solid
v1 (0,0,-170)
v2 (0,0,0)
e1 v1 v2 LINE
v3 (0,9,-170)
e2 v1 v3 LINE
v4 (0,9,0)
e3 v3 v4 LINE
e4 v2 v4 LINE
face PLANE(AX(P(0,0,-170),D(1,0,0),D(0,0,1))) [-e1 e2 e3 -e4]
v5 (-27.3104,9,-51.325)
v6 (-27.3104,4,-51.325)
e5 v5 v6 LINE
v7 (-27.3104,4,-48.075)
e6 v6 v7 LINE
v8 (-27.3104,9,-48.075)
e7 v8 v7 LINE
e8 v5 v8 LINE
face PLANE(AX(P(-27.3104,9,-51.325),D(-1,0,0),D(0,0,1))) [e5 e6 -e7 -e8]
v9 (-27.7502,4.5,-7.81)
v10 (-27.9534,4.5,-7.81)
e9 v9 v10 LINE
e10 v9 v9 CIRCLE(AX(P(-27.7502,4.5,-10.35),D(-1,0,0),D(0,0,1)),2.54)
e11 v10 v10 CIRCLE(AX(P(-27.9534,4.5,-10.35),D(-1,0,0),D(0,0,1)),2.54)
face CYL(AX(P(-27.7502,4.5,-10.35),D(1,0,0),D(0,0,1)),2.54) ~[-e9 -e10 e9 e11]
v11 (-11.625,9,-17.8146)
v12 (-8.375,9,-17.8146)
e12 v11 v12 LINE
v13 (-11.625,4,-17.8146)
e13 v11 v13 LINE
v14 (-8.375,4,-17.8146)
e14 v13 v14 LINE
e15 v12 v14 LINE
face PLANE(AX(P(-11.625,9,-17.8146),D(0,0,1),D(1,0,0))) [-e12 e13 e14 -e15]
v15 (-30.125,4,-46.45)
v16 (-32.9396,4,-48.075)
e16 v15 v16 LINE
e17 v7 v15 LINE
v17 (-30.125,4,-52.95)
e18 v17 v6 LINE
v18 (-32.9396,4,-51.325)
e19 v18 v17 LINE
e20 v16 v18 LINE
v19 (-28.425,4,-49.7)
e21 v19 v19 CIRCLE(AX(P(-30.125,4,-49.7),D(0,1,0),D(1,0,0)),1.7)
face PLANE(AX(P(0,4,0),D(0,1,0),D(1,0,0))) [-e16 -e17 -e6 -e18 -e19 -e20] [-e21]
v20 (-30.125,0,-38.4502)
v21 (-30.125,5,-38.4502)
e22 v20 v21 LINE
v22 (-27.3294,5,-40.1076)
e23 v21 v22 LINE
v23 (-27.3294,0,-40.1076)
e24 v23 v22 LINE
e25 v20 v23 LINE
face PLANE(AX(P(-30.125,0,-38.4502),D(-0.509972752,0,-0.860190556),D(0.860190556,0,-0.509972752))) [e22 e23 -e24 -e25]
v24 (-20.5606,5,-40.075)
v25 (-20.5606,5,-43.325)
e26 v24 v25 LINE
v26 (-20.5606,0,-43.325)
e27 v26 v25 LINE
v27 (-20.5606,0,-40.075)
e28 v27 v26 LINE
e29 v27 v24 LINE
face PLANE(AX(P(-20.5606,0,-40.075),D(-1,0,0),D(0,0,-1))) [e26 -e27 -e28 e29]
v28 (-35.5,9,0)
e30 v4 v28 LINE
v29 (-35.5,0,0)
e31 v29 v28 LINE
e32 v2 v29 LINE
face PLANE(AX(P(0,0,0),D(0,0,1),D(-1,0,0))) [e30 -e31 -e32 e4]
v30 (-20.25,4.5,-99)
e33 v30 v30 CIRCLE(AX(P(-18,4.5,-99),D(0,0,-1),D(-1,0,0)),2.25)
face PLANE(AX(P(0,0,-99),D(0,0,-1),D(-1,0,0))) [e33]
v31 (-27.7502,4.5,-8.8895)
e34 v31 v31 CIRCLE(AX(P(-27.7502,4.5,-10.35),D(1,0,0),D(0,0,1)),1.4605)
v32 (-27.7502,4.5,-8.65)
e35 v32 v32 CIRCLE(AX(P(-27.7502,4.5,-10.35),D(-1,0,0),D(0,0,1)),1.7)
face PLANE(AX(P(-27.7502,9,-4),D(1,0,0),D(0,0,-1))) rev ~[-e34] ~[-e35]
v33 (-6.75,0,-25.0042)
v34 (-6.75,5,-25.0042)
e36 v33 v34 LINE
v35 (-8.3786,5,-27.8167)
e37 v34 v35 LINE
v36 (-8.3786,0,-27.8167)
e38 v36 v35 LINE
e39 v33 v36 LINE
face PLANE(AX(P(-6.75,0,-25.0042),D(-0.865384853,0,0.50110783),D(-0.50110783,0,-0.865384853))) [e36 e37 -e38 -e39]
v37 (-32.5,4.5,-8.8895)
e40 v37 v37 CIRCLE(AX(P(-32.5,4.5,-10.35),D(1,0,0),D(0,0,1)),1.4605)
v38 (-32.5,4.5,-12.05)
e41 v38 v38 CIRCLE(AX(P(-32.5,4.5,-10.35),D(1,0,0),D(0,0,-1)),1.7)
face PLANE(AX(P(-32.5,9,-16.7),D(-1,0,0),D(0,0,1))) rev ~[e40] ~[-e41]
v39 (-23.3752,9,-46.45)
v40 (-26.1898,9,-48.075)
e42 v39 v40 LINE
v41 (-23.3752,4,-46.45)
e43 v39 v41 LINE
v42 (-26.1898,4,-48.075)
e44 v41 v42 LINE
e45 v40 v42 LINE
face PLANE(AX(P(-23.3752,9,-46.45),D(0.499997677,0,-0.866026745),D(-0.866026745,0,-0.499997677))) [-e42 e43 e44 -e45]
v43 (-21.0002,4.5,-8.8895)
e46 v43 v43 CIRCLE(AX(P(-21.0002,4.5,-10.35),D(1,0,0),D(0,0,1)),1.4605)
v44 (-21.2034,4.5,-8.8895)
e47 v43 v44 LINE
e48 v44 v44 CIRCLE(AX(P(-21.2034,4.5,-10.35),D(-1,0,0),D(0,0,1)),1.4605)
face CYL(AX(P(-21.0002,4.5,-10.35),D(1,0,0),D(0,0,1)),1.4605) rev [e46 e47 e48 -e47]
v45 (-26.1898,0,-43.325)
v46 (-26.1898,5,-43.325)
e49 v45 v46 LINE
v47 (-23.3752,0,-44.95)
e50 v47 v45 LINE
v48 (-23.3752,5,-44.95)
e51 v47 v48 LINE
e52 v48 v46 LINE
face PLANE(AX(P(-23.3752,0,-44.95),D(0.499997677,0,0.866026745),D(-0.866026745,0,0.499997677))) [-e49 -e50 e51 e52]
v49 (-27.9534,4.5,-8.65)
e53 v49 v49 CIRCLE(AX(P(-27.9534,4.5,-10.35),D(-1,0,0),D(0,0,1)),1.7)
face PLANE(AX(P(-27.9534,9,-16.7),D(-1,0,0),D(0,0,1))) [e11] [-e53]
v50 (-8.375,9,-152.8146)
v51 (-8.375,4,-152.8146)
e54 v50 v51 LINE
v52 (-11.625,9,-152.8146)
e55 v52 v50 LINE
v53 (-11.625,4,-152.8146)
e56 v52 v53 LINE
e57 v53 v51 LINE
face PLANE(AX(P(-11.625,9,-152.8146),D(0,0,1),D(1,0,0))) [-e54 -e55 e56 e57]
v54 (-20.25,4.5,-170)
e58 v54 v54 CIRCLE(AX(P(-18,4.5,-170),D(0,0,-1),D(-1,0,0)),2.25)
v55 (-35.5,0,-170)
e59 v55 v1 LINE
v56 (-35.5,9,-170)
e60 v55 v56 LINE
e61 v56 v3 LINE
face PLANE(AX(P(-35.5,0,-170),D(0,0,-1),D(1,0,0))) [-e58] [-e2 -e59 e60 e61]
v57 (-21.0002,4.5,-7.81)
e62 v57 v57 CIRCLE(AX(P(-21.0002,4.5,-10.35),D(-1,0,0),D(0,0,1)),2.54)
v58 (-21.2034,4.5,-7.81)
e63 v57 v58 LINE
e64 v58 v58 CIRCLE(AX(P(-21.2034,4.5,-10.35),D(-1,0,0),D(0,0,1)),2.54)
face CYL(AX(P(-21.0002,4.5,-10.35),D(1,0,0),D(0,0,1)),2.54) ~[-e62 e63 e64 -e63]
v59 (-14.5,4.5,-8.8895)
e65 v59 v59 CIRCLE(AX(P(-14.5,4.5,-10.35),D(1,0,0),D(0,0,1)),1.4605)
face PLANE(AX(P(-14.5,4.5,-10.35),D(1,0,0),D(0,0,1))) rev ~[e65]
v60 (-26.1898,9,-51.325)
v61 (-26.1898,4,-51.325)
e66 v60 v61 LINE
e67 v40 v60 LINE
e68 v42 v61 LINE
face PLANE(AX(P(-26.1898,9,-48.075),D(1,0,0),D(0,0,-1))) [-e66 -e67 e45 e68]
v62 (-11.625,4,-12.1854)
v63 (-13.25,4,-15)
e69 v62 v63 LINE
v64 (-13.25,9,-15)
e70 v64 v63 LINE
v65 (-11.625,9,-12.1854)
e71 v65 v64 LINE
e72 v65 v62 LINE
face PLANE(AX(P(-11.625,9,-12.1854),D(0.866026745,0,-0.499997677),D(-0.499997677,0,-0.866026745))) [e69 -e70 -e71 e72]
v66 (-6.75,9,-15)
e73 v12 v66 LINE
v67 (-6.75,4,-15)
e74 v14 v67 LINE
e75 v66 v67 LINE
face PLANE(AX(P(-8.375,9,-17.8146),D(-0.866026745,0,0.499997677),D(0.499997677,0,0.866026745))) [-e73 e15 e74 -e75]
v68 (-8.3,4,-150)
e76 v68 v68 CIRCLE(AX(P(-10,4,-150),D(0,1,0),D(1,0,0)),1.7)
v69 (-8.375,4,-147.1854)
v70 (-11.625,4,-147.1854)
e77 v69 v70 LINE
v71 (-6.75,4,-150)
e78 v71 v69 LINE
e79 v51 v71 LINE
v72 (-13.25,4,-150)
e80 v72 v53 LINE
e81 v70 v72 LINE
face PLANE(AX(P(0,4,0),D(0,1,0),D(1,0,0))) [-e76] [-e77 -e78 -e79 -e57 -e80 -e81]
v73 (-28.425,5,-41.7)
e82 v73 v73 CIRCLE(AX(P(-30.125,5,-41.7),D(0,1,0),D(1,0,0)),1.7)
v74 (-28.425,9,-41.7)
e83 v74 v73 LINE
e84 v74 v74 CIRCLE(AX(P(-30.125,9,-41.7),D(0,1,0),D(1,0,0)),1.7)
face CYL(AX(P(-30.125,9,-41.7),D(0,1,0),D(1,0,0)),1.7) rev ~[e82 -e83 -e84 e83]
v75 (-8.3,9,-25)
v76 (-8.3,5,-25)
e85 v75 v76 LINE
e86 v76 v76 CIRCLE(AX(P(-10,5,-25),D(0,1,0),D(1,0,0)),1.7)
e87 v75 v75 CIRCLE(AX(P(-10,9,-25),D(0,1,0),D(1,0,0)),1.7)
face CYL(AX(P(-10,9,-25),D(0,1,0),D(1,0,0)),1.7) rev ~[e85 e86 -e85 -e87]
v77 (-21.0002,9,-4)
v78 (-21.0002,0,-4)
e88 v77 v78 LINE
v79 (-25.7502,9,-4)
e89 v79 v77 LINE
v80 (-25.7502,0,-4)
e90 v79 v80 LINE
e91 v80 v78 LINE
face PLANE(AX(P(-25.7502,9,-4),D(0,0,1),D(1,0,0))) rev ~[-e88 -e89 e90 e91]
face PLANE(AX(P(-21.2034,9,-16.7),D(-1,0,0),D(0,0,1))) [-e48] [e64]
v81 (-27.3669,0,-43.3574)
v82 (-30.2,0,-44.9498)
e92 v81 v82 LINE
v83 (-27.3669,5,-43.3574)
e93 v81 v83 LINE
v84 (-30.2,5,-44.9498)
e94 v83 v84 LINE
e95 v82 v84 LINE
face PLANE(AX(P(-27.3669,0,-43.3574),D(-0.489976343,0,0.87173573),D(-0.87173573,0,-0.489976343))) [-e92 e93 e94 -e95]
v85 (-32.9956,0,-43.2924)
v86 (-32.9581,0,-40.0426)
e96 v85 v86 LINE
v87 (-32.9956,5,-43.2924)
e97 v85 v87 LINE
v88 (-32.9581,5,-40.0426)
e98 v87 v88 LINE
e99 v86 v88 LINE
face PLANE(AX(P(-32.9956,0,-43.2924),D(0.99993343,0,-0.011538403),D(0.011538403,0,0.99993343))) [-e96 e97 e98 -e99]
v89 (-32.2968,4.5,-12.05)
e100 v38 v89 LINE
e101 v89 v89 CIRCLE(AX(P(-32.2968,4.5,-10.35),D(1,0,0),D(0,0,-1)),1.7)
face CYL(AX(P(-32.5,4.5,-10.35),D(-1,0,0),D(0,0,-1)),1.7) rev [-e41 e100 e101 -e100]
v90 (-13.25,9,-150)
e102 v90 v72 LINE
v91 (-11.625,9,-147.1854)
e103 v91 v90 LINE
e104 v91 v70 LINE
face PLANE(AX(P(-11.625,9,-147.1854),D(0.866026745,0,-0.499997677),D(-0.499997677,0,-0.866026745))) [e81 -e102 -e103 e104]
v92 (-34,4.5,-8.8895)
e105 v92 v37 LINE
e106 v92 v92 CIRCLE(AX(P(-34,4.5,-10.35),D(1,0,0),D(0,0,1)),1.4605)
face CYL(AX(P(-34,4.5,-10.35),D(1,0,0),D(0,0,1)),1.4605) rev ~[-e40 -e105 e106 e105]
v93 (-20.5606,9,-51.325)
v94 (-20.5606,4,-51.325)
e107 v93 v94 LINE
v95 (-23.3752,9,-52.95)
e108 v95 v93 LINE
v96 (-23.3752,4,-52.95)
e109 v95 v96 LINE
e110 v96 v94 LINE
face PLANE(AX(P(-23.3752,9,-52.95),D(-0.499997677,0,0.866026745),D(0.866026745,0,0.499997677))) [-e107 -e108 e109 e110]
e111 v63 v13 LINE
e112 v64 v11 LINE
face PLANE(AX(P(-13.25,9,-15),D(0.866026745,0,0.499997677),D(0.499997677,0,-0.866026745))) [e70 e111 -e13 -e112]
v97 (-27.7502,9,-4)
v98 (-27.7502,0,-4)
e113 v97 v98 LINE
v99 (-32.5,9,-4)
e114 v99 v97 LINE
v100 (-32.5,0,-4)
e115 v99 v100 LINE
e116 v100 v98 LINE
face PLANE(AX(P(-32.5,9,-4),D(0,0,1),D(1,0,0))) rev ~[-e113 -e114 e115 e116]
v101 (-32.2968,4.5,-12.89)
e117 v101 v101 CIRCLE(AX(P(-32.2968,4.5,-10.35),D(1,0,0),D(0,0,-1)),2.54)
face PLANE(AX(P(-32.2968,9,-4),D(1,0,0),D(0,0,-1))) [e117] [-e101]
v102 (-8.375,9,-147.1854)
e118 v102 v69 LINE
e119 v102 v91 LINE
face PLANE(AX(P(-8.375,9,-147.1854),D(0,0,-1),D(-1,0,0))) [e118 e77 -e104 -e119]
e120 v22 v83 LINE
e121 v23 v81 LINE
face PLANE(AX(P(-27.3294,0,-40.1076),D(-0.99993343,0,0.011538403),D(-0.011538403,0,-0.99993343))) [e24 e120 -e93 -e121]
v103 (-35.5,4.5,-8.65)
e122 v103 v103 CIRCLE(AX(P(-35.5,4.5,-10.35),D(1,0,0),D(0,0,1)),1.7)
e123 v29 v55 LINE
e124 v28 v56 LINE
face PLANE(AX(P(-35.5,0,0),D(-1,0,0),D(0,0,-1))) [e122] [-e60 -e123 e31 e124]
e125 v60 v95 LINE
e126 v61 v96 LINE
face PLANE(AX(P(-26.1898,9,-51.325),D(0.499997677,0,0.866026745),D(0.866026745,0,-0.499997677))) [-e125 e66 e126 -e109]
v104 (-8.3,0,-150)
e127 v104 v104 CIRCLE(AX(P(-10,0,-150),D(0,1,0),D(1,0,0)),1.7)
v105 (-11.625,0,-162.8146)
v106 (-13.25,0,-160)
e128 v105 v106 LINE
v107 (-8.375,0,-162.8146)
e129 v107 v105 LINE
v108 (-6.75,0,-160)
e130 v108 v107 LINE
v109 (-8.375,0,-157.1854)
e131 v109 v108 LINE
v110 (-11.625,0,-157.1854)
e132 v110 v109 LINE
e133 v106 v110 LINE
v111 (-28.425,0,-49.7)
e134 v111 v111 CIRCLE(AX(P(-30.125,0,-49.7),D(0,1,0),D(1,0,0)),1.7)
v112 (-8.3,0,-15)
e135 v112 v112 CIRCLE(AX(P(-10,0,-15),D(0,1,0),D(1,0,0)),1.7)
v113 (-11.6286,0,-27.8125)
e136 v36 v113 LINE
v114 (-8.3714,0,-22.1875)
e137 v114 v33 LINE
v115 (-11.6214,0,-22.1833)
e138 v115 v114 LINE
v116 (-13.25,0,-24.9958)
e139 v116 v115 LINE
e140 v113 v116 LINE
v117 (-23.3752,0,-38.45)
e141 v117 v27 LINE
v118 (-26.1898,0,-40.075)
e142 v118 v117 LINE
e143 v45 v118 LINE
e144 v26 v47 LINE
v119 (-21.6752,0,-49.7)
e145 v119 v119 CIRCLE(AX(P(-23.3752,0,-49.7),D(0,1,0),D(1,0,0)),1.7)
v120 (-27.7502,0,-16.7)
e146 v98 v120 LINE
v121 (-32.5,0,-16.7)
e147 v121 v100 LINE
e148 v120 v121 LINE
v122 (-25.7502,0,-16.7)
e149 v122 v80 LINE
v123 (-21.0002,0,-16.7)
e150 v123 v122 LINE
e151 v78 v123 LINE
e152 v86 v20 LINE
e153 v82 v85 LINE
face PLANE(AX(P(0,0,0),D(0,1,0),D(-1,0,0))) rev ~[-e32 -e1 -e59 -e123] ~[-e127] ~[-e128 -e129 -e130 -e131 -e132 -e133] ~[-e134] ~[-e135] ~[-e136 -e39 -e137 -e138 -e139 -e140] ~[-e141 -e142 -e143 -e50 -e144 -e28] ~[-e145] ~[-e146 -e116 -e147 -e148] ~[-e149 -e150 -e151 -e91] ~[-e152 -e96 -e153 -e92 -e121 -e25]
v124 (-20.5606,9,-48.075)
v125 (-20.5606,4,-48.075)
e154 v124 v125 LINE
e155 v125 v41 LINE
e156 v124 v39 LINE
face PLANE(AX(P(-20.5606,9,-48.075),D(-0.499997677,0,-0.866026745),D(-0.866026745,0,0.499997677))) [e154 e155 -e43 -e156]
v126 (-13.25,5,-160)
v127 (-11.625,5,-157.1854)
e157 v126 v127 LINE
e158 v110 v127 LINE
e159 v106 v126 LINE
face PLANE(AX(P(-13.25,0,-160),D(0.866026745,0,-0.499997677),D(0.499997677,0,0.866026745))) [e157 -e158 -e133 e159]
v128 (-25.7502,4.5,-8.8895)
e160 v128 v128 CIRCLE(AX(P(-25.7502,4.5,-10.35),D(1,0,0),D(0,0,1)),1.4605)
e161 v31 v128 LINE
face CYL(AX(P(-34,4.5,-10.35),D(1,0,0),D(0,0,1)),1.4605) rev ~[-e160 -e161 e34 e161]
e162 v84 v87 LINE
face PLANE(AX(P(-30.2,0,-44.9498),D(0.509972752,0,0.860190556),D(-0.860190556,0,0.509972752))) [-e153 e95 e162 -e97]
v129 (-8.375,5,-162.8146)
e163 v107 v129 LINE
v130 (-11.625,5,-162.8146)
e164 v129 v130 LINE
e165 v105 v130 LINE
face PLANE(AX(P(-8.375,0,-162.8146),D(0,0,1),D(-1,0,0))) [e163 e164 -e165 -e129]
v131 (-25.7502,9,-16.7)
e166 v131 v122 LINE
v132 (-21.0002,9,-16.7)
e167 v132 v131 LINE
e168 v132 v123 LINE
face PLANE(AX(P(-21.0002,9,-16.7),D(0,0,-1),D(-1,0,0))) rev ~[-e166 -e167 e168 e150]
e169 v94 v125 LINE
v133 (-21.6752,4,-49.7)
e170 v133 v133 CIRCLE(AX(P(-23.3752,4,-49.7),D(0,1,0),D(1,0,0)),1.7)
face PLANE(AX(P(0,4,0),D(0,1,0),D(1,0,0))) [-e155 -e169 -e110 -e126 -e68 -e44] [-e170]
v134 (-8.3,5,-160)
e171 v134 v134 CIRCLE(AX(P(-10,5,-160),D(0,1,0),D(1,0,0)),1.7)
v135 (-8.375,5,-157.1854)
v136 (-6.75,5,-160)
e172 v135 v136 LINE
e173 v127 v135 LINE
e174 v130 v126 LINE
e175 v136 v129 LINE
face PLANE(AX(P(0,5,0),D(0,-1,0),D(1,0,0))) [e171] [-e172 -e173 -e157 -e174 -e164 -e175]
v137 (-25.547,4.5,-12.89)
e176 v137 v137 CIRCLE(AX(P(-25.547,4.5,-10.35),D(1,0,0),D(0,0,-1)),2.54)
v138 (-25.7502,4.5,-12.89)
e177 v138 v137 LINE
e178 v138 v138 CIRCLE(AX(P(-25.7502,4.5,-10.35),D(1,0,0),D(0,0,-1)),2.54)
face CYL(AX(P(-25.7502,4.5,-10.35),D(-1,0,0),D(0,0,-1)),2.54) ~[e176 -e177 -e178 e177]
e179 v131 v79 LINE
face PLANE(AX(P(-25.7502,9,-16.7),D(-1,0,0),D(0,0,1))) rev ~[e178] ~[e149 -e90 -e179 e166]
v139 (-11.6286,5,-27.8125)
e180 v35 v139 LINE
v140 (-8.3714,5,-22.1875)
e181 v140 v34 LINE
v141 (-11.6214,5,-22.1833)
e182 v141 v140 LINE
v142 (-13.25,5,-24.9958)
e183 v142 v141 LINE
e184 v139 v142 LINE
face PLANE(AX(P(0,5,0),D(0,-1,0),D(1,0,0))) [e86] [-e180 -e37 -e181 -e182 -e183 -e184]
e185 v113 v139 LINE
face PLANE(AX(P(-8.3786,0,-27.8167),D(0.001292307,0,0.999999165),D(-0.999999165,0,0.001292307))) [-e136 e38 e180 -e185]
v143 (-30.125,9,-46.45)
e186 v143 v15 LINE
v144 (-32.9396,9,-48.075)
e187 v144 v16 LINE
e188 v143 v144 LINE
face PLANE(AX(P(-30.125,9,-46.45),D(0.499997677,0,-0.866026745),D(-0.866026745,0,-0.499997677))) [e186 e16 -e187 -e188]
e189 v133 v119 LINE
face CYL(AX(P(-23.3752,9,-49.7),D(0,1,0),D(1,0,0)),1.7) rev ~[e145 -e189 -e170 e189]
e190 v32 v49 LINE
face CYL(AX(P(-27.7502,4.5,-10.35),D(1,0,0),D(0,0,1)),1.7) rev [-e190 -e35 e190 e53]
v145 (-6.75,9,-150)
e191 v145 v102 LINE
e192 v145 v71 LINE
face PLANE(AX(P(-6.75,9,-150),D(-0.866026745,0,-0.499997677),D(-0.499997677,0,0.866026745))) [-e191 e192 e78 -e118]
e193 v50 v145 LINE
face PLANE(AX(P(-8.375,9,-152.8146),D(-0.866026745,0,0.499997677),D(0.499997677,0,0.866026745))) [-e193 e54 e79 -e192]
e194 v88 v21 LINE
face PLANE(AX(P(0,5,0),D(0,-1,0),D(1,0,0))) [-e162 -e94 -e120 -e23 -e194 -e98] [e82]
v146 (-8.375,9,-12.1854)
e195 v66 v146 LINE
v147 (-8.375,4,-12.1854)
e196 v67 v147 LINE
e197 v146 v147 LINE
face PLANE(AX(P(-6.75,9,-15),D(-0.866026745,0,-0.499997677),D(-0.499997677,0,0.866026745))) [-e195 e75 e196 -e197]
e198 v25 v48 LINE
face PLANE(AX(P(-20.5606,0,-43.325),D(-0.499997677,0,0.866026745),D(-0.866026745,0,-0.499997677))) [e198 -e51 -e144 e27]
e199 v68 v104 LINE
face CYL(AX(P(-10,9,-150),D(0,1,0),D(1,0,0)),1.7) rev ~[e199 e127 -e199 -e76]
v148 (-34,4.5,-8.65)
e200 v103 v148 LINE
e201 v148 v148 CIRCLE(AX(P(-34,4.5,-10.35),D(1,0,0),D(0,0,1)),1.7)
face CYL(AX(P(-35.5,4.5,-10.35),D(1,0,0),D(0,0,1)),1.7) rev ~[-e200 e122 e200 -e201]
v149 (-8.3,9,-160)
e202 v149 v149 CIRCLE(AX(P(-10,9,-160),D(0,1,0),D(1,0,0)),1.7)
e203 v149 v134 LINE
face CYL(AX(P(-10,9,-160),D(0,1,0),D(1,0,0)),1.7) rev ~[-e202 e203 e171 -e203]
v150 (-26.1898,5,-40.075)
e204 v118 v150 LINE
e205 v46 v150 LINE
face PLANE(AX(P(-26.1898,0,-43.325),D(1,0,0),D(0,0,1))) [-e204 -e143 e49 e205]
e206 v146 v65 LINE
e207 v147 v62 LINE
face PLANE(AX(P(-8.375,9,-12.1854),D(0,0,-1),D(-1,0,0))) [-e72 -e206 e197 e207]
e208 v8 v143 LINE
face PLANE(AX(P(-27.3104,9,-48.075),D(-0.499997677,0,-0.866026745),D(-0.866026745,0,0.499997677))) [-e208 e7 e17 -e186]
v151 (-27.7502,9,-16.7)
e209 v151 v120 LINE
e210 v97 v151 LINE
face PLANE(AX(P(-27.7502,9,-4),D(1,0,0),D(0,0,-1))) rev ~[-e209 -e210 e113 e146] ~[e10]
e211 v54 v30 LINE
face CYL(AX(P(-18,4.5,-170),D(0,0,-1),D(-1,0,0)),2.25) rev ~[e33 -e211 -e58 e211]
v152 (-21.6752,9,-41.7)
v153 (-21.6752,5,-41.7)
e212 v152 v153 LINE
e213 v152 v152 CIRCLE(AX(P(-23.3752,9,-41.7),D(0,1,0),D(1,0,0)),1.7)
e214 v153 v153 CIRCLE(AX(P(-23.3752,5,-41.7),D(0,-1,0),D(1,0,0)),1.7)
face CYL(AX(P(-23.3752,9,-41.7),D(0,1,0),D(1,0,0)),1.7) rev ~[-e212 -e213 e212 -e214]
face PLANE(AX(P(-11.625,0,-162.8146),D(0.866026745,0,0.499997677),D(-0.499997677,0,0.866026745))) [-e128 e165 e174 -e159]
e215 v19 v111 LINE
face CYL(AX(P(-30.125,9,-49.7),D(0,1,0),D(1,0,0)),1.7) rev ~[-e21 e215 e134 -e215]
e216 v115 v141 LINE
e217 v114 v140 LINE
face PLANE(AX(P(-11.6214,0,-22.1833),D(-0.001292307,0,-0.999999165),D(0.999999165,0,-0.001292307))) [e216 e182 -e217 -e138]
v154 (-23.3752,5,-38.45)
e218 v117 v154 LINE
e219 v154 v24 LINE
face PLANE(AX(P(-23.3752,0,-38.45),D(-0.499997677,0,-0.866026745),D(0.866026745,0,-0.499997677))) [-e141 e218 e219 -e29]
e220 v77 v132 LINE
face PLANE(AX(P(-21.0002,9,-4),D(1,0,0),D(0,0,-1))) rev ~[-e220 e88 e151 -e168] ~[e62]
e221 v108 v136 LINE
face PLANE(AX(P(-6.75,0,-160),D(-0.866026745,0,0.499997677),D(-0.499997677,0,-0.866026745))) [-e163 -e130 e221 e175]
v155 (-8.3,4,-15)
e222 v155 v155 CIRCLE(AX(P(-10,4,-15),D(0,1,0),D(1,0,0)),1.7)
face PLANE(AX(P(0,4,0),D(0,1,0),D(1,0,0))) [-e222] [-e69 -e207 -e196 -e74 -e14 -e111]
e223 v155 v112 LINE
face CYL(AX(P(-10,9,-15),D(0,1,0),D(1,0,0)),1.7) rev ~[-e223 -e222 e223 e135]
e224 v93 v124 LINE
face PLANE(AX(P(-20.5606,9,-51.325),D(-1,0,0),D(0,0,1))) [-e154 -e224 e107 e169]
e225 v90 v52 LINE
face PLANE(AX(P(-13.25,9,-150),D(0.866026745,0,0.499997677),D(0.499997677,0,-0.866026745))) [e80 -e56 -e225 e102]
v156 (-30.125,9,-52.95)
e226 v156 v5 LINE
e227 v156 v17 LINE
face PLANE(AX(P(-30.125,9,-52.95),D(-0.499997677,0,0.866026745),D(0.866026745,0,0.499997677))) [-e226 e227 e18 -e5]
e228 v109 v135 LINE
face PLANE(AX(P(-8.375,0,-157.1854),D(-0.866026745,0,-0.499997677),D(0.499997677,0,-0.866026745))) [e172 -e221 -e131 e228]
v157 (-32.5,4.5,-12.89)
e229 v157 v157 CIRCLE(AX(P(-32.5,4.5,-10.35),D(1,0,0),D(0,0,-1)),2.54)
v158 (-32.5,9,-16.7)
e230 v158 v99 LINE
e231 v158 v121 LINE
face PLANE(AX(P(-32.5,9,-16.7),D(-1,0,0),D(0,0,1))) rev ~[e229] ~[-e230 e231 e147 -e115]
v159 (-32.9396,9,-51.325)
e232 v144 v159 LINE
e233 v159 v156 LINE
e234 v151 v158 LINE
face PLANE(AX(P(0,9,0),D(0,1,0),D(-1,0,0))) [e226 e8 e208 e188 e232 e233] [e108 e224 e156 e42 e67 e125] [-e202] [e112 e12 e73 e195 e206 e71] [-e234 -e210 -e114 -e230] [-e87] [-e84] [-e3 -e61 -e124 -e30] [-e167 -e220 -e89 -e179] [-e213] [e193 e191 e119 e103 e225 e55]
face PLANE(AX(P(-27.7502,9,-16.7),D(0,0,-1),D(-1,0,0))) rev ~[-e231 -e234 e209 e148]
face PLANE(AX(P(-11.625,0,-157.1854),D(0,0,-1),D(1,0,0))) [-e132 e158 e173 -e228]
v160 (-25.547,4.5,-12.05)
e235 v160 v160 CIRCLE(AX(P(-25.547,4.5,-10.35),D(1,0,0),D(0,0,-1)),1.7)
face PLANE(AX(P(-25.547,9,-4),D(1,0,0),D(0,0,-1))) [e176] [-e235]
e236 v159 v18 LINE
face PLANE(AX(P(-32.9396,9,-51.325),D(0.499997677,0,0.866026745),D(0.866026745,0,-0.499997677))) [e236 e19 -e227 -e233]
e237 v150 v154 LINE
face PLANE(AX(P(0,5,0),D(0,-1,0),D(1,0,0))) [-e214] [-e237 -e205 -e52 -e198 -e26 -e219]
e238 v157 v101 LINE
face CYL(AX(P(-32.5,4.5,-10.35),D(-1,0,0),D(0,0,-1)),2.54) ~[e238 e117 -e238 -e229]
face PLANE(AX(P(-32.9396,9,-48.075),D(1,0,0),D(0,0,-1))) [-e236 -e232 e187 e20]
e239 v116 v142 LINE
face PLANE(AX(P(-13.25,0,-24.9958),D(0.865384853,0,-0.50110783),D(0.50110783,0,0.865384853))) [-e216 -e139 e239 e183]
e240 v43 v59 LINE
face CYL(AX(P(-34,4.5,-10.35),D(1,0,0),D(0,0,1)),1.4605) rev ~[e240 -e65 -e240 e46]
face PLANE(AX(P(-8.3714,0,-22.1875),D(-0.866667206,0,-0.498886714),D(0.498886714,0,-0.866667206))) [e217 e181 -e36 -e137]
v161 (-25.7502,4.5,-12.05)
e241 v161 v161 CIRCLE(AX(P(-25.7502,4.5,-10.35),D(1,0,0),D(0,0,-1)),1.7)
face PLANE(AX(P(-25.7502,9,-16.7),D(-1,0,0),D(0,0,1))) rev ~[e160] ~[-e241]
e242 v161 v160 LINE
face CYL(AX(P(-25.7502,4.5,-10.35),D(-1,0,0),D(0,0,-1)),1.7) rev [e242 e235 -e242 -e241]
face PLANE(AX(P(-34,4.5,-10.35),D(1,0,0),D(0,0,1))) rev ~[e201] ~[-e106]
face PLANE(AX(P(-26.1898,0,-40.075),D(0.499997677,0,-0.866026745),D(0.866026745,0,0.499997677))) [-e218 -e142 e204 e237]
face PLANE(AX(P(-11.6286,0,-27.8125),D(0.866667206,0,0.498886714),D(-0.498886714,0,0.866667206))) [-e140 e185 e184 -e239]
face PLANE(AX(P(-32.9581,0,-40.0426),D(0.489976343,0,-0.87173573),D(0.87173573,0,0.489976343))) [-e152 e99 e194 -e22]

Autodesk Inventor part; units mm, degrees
ref_plane "YZ Plane" through (0, 0, 0) normal (1, 0, 0) x (0, 1, 0)
ref_plane "XZ Plane" through (0, 0, 0) normal (0, 1, 0) x (-1, 0, 0)
ref_plane "XY Plane" through (0, 0, 0) normal (0, 0, 1) x (1, 0, 0)
sketch "Sketch1" plane through (0, 0, 0) normal (0, 1, 0) x (-1, 0, 0)
  line L0 (0, 0) -> (35.5, 0)
  line L1 (35.5, 0) -> (35.5, -170)
  line L2 (35.5, -170) -> (0, -170)
  line L3 (0, -170) -> (0, 0)
  dimension "d0" = 35.5
  dimension "d1" = 170
extrude "Extrusion1" add sketch "Sketch1" along normal blind 9
sketch "Sketch2" plane through (0, 9, 0) normal (0, 1, 0) x (1, 0, 0)
  circle A0 centre (-10, 15) radius 3.25 construction
  line L0 (-35.5, 0) -> (0, 0) projected
  line L1 (0, 0) -> (0, 170) projected
  line L2 (-13.25, 15) -> (-11.625, 17.8146)
  line L3 (-11.625, 17.8146) -> (-8.375, 17.8146)
  line L4 (-8.375, 17.8146) -> (-6.75, 15)
  line L5 (-6.75, 15) -> (-8.375, 12.1854)
  line L6 (-8.375, 12.1854) -> (-11.625, 12.1854)
  line L7 (-11.625, 12.1854) -> (-13.25, 15)
  circle A1 centre (-10, 150) radius 3.25 construction
  line L8 (-13.25, 150) -> (-11.625, 152.8146)
  line L9 (-11.625, 152.8146) -> (-8.375, 152.8146)
  line L10 (-8.375, 152.8146) -> (-6.75, 150)
  line L11 (-6.75, 150) -> (-8.375, 147.1854)
  line L12 (-8.375, 147.1854) -> (-11.625, 147.1854)
  line L13 (-11.625, 147.1854) -> (-13.25, 150)
  line L14 (0, 170) -> (-35.5, 170) projected
  circle A2 centre (-10, 15) radius 1.7 construction
  circle A3 centre (-10, 150) radius 1.7 construction
  dimension "d7" = 6.5
  dimension "d10" = 6.5
  dimension "d23" = 135
  dimension "d24" = 15
  dimension "d25" = 10
  dimension "d28" = 3.4
  dimension "d29" = 3.4
extrude "Extrusion2" cut sketch "Sketch2" against normal blind 5
sketch "Sketch3" plane through (0, 0, 0) normal (0, -1, 0) x (1, 0, 0)
  circle A0 centre (-10, -25) radius 3.25 construction
  line L0 (0, 0) -> (-35.5, 0) projected
  line L1 (-35.5, 0) -> (-35.5, -170) projected
  line L2 (-11.6286, -27.8125) -> (-13.25, -24.9958)
  line L3 (-13.25, -24.9958) -> (-11.6214, -22.1833)
  line L4 (-11.6214, -22.1833) -> (-8.3714, -22.1875)
  line L5 (-8.3714, -22.1875) -> (-6.75, -25.0042)
  line L6 (-6.75, -25.0042) -> (-8.3786, -27.8167)
  line L7 (-8.3786, -27.8167) -> (-11.6286, -27.8125)
  circle A1 centre (-10, -160) radius 3.25 construction
  line L8 (-6.75, -160) -> (-8.375, -162.8146)
  line L9 (-8.375, -162.8146) -> (-11.625, -162.8146)
  line L10 (-11.625, -162.8146) -> (-13.25, -160)
  line L11 (-13.25, -160) -> (-11.625, -157.1854)
  line L12 (-11.625, -157.1854) -> (-8.375, -157.1854)
  line L13 (-8.375, -157.1854) -> (-6.75, -160)
  line L14 (0, -170) -> (0, 0) projected
  dimension "d15" = 6.5
  dimension "d18" = 6.5
  dimension "d16" = 25
  dimension "d19" = 135
  dimension "d26" = 10
  dimension "d27" = 10
extrude "Extrusion3" cut sketch "Sketch3" against normal blind 5
sketch "Sketch5" plane through (0, 9, 0) normal (0, 1, 0) x (1, 0, 0)
  circle A0 centre (-10, 15) radius 1.7
  line L0 (0, 0) -> (0, 170) projected
  line L1 (-35.5, 0) -> (0, 0) projected
  circle A1 centre (-10, 150) radius 1.7
  circle A2 centre (-10, 25) radius 1.7
  circle A3 centre (-10, 160) radius 1.7
  dimension "d30" = 3.4
  dimension "d31" = 10
  dimension "d32" = 15
  dimension "d33" = 3.4
  dimension "d34" = 10
  dimension "d35" = 135
  dimension "d36" = 3.4
  dimension "d37" = 25
  dimension "d38" = 3.4
  dimension "d39" = 10
  dimension "d40" = 135
extrude "Extrusion4" cut sketch "Sketch5" against normal through all
sketch "Sketch6" plane through (0, 9, 0) normal (0, 1, 0) x (1, 0, 0)
  line L0 (-32.5, 4) -> (-27.7502, 4)
  line L1 (-27.7502, 4) -> (-27.7502, 16.7)
  line L2 (-27.7502, 16.7) -> (-32.5, 16.7)
  line L3 (-32.5, 16.7) -> (-32.5, 4)
  line L4 (-35.5, 0) -> (0, 0) projected
  line L5 (-35.5, 170) -> (-35.5, 0) projected
  line L6 (-25.7502, 4) -> (-21.0002, 4)
  line L7 (-21.0002, 4) -> (-21.0002, 16.7)
  line L8 (-21.0002, 16.7) -> (-25.7502, 16.7)
  line L9 (-25.7502, 16.7) -> (-25.7502, 4)
  line L10 (0, 0) -> (0, 170) construction
  line L11 (-35.5, 170) -> (0, 170) projected
  line L12 (0, 0) -> (-20, 0) construction
  line L13 (-20, 0) -> (-20, 170) construction
  line L14 (-20, 170) -> (0, 170) construction
  line L15 (0, 170) -> (0, 0)
  circle A0 centre (-23.3752, 41.7) radius 1.7
  circle A1 centre (-30.125, 41.7) radius 1.7
  circle A2 centre (-30.125, 49.7) radius 1.7
  circle A3 centre (-23.3752, 49.7) radius 1.7
  dimension "d43" = 4.7498
  dimension "d44" = 12.7
  dimension "d45" = 4
  dimension "d46" = 3
  dimension "d47" = 4.75
  dimension "d48" = 2
  dimension "d49" = 20
  dimension "d50" = 3.4
  dimension "d51" = 25
  dimension "d87" = 3.4
  dimension "d88" = 5.375
  dimension "d90" = 3.4
  dimension "d91" = 8
  dimension "d92" = 3.4
extrude "Extrusion5" cut sketch "Sketch6" against normal through all contours L3 L2 L1 L0 | L9 L8 L7 L6 | A0 | A1 | A2 | A3
sketch "Sketch7" plane through (0, 0, 0) normal (0, -1, 0) x (1, 0, 0)
  circle A0 centre (-23.3752, -41.7) radius 1.7 projected
  circle A1 centre (-23.3752, -41.7) radius 3.25 construction
  line L0 (-23.3752, -38.45) -> (-20.5606, -40.075)
  line L1 (-20.5606, -40.075) -> (-20.5606, -43.325)
  line L2 (-20.5606, -43.325) -> (-23.3752, -44.95)
  line L3 (-23.3752, -44.95) -> (-26.1898, -43.325)
  line L4 (-26.1898, -43.325) -> (-26.1898, -40.075)
  line L5 (-26.1898, -40.075) -> (-23.3752, -38.45)
  circle A2 centre (-30.1625, -41.7) radius 3.25 construction
  line L6 (-30.125, -38.4502) -> (-27.3294, -40.1076)
  line L7 (-27.3294, -40.1076) -> (-27.3669, -43.3574)
  line L8 (-27.3669, -43.3574) -> (-30.2, -44.9498)
  line L9 (-30.2, -44.9498) -> (-32.9956, -43.2924)
  line L10 (-32.9956, -43.2924) -> (-32.9581, -40.0426)
  line L11 (-32.9581, -40.0426) -> (-30.125, -38.4502)
  point P0 (0, 0)
  dimension "d89" = 6.5
  dimension "d54" = 6.5
extrude "Extrusion6" cut sketch "Sketch7" against normal blind 5
sketch "Sketch8" plane through (-35.5, 0, -170) normal (-1, 0, 0) x (0, 0, 1)
  circle A0 centre (159.65, 4.5) radius 1.4605
  line L0 (0, 9) -> (170, 9) projected
  line L1 (170, 0) -> (170, 9) projected
  dimension "d57" = 2.921
  dimension "d58" = 4.5
  dimension "d59" = 10.35
hole "Hole1" at (-35.5, 4.5, -10.35) direction (1, 0, 0) diameter 2.921 depth 21 counterbore diameter 3.4 counterbore depth 1.5
sketch "Sketch9" plane through (-21.0002, 9, -16.7) normal (-1, 0, 0) x (0, 0, 1)
  circle A0 centre (6.35, -4.5) radius 1.4605 projected
  circle A1 centre (6.35, -4.5) radius 2.54
  point P0 (16.7, -9)
  dimension "d67" = 5.08
extrude "Extrusion7" add sketch "Sketch9" along normal blind 0.2032
sketch "Sketch10" plane through (-27.7502, 9, -16.7) normal (-1, 0, 0) x (0, 0, 1)
  circle A0 centre (6.35, -4.5) radius 1.7 projected
  circle A1 centre (6.35, -4.5) radius 2.54
  point P0 (16.7, -9)
  dimension "d70" = 5.08
extrude "Extrusion8" add sketch "Sketch10" along normal blind 0.2032
sketch "Sketch11" plane through (-25.7502, 9, -4) normal (1, 0, 0) x (0, 0, -1)
  circle A0 centre (6.35, -4.5) radius 1.7 projected
  circle A1 centre (6.35, -4.5) radius 2.54
  point P0 (-4, -9)
  dimension "d73" = 5.08
extrude "Extrusion9" add sketch "Sketch11" along normal blind 0.2032
sketch "Sketch12" plane through (-32.5, 9, -4) normal (1, 0, 0) x (0, 0, -1)
  circle A0 centre (6.35, -4.5) radius 1.7 projected
  circle A1 centre (6.35, -4.5) radius 2.54
  point P0 (-4, -9)
  dimension "d76" = 5.08
extrude "Extrusion10" add sketch "Sketch12" along normal blind 0.2032
sketch "Sketch14" plane through (0, 0, -170) normal (0, 0, -1) x (-1, 0, 0)
  circle A0 centre (18, 4.5) radius 2.25
  line L0 (35.5, 0) -> (0, 0) projected
  line L1 (0, 0) -> (0, 9) projected
  dimension "d82" = 4.5
  dimension "d83" = 4.5
  dimension "d84" = 18
extrude "Extrusion11" cut sketch "Sketch14" against normal blind 71
sketch "Sketch15" plane through (0, 9, 0) normal (0, 1, 0) x (1, 0, 0)
  circle A0 centre (-30.125, 49.7) radius 1.7 projected
  circle A1 centre (-30.125, 49.7) radius 3.25 construction
  circle A2 centre (-23.3752, 49.7) radius 1.7 projected
  circle A3 centre (-23.3752, 49.7) radius 3.25 construction
  line L0 (-30.125, 46.45) -> (-32.9396, 48.075)
  line L1 (-32.9396, 48.075) -> (-32.9396, 51.325)
  line L2 (-32.9396, 51.325) -> (-30.125, 52.95)
  line L3 (-30.125, 52.95) -> (-27.3104, 51.325)
  line L4 (-27.3104, 51.325) -> (-27.3104, 48.075)
  line L5 (-27.3104, 48.075) -> (-30.125, 46.45)
  line L6 (-23.3752, 46.45) -> (-26.1898, 48.075)
  line L7 (-26.1898, 48.075) -> (-26.1898, 51.325)
  line L8 (-26.1898, 51.325) -> (-23.3752, 52.95)
  line L9 (-23.3752, 52.95) -> (-20.5606, 51.325)
  line L10 (-20.5606, 51.325) -> (-20.5606, 48.075)
  line L11 (-20.5606, 48.075) -> (-23.3752, 46.45)
  point P0 (0, 0)
  dimension "d93" = 6.5
  dimension "d94" = 6.5
extrude "Extrusion12" cut sketch "Sketch15" against normal blind 5
ref_plane "Work Plane3" through (0, 4.5, 0) normal (0, 1, 0) x (1, 0, 0)
properties part number "Front fixed bottom coupler"
